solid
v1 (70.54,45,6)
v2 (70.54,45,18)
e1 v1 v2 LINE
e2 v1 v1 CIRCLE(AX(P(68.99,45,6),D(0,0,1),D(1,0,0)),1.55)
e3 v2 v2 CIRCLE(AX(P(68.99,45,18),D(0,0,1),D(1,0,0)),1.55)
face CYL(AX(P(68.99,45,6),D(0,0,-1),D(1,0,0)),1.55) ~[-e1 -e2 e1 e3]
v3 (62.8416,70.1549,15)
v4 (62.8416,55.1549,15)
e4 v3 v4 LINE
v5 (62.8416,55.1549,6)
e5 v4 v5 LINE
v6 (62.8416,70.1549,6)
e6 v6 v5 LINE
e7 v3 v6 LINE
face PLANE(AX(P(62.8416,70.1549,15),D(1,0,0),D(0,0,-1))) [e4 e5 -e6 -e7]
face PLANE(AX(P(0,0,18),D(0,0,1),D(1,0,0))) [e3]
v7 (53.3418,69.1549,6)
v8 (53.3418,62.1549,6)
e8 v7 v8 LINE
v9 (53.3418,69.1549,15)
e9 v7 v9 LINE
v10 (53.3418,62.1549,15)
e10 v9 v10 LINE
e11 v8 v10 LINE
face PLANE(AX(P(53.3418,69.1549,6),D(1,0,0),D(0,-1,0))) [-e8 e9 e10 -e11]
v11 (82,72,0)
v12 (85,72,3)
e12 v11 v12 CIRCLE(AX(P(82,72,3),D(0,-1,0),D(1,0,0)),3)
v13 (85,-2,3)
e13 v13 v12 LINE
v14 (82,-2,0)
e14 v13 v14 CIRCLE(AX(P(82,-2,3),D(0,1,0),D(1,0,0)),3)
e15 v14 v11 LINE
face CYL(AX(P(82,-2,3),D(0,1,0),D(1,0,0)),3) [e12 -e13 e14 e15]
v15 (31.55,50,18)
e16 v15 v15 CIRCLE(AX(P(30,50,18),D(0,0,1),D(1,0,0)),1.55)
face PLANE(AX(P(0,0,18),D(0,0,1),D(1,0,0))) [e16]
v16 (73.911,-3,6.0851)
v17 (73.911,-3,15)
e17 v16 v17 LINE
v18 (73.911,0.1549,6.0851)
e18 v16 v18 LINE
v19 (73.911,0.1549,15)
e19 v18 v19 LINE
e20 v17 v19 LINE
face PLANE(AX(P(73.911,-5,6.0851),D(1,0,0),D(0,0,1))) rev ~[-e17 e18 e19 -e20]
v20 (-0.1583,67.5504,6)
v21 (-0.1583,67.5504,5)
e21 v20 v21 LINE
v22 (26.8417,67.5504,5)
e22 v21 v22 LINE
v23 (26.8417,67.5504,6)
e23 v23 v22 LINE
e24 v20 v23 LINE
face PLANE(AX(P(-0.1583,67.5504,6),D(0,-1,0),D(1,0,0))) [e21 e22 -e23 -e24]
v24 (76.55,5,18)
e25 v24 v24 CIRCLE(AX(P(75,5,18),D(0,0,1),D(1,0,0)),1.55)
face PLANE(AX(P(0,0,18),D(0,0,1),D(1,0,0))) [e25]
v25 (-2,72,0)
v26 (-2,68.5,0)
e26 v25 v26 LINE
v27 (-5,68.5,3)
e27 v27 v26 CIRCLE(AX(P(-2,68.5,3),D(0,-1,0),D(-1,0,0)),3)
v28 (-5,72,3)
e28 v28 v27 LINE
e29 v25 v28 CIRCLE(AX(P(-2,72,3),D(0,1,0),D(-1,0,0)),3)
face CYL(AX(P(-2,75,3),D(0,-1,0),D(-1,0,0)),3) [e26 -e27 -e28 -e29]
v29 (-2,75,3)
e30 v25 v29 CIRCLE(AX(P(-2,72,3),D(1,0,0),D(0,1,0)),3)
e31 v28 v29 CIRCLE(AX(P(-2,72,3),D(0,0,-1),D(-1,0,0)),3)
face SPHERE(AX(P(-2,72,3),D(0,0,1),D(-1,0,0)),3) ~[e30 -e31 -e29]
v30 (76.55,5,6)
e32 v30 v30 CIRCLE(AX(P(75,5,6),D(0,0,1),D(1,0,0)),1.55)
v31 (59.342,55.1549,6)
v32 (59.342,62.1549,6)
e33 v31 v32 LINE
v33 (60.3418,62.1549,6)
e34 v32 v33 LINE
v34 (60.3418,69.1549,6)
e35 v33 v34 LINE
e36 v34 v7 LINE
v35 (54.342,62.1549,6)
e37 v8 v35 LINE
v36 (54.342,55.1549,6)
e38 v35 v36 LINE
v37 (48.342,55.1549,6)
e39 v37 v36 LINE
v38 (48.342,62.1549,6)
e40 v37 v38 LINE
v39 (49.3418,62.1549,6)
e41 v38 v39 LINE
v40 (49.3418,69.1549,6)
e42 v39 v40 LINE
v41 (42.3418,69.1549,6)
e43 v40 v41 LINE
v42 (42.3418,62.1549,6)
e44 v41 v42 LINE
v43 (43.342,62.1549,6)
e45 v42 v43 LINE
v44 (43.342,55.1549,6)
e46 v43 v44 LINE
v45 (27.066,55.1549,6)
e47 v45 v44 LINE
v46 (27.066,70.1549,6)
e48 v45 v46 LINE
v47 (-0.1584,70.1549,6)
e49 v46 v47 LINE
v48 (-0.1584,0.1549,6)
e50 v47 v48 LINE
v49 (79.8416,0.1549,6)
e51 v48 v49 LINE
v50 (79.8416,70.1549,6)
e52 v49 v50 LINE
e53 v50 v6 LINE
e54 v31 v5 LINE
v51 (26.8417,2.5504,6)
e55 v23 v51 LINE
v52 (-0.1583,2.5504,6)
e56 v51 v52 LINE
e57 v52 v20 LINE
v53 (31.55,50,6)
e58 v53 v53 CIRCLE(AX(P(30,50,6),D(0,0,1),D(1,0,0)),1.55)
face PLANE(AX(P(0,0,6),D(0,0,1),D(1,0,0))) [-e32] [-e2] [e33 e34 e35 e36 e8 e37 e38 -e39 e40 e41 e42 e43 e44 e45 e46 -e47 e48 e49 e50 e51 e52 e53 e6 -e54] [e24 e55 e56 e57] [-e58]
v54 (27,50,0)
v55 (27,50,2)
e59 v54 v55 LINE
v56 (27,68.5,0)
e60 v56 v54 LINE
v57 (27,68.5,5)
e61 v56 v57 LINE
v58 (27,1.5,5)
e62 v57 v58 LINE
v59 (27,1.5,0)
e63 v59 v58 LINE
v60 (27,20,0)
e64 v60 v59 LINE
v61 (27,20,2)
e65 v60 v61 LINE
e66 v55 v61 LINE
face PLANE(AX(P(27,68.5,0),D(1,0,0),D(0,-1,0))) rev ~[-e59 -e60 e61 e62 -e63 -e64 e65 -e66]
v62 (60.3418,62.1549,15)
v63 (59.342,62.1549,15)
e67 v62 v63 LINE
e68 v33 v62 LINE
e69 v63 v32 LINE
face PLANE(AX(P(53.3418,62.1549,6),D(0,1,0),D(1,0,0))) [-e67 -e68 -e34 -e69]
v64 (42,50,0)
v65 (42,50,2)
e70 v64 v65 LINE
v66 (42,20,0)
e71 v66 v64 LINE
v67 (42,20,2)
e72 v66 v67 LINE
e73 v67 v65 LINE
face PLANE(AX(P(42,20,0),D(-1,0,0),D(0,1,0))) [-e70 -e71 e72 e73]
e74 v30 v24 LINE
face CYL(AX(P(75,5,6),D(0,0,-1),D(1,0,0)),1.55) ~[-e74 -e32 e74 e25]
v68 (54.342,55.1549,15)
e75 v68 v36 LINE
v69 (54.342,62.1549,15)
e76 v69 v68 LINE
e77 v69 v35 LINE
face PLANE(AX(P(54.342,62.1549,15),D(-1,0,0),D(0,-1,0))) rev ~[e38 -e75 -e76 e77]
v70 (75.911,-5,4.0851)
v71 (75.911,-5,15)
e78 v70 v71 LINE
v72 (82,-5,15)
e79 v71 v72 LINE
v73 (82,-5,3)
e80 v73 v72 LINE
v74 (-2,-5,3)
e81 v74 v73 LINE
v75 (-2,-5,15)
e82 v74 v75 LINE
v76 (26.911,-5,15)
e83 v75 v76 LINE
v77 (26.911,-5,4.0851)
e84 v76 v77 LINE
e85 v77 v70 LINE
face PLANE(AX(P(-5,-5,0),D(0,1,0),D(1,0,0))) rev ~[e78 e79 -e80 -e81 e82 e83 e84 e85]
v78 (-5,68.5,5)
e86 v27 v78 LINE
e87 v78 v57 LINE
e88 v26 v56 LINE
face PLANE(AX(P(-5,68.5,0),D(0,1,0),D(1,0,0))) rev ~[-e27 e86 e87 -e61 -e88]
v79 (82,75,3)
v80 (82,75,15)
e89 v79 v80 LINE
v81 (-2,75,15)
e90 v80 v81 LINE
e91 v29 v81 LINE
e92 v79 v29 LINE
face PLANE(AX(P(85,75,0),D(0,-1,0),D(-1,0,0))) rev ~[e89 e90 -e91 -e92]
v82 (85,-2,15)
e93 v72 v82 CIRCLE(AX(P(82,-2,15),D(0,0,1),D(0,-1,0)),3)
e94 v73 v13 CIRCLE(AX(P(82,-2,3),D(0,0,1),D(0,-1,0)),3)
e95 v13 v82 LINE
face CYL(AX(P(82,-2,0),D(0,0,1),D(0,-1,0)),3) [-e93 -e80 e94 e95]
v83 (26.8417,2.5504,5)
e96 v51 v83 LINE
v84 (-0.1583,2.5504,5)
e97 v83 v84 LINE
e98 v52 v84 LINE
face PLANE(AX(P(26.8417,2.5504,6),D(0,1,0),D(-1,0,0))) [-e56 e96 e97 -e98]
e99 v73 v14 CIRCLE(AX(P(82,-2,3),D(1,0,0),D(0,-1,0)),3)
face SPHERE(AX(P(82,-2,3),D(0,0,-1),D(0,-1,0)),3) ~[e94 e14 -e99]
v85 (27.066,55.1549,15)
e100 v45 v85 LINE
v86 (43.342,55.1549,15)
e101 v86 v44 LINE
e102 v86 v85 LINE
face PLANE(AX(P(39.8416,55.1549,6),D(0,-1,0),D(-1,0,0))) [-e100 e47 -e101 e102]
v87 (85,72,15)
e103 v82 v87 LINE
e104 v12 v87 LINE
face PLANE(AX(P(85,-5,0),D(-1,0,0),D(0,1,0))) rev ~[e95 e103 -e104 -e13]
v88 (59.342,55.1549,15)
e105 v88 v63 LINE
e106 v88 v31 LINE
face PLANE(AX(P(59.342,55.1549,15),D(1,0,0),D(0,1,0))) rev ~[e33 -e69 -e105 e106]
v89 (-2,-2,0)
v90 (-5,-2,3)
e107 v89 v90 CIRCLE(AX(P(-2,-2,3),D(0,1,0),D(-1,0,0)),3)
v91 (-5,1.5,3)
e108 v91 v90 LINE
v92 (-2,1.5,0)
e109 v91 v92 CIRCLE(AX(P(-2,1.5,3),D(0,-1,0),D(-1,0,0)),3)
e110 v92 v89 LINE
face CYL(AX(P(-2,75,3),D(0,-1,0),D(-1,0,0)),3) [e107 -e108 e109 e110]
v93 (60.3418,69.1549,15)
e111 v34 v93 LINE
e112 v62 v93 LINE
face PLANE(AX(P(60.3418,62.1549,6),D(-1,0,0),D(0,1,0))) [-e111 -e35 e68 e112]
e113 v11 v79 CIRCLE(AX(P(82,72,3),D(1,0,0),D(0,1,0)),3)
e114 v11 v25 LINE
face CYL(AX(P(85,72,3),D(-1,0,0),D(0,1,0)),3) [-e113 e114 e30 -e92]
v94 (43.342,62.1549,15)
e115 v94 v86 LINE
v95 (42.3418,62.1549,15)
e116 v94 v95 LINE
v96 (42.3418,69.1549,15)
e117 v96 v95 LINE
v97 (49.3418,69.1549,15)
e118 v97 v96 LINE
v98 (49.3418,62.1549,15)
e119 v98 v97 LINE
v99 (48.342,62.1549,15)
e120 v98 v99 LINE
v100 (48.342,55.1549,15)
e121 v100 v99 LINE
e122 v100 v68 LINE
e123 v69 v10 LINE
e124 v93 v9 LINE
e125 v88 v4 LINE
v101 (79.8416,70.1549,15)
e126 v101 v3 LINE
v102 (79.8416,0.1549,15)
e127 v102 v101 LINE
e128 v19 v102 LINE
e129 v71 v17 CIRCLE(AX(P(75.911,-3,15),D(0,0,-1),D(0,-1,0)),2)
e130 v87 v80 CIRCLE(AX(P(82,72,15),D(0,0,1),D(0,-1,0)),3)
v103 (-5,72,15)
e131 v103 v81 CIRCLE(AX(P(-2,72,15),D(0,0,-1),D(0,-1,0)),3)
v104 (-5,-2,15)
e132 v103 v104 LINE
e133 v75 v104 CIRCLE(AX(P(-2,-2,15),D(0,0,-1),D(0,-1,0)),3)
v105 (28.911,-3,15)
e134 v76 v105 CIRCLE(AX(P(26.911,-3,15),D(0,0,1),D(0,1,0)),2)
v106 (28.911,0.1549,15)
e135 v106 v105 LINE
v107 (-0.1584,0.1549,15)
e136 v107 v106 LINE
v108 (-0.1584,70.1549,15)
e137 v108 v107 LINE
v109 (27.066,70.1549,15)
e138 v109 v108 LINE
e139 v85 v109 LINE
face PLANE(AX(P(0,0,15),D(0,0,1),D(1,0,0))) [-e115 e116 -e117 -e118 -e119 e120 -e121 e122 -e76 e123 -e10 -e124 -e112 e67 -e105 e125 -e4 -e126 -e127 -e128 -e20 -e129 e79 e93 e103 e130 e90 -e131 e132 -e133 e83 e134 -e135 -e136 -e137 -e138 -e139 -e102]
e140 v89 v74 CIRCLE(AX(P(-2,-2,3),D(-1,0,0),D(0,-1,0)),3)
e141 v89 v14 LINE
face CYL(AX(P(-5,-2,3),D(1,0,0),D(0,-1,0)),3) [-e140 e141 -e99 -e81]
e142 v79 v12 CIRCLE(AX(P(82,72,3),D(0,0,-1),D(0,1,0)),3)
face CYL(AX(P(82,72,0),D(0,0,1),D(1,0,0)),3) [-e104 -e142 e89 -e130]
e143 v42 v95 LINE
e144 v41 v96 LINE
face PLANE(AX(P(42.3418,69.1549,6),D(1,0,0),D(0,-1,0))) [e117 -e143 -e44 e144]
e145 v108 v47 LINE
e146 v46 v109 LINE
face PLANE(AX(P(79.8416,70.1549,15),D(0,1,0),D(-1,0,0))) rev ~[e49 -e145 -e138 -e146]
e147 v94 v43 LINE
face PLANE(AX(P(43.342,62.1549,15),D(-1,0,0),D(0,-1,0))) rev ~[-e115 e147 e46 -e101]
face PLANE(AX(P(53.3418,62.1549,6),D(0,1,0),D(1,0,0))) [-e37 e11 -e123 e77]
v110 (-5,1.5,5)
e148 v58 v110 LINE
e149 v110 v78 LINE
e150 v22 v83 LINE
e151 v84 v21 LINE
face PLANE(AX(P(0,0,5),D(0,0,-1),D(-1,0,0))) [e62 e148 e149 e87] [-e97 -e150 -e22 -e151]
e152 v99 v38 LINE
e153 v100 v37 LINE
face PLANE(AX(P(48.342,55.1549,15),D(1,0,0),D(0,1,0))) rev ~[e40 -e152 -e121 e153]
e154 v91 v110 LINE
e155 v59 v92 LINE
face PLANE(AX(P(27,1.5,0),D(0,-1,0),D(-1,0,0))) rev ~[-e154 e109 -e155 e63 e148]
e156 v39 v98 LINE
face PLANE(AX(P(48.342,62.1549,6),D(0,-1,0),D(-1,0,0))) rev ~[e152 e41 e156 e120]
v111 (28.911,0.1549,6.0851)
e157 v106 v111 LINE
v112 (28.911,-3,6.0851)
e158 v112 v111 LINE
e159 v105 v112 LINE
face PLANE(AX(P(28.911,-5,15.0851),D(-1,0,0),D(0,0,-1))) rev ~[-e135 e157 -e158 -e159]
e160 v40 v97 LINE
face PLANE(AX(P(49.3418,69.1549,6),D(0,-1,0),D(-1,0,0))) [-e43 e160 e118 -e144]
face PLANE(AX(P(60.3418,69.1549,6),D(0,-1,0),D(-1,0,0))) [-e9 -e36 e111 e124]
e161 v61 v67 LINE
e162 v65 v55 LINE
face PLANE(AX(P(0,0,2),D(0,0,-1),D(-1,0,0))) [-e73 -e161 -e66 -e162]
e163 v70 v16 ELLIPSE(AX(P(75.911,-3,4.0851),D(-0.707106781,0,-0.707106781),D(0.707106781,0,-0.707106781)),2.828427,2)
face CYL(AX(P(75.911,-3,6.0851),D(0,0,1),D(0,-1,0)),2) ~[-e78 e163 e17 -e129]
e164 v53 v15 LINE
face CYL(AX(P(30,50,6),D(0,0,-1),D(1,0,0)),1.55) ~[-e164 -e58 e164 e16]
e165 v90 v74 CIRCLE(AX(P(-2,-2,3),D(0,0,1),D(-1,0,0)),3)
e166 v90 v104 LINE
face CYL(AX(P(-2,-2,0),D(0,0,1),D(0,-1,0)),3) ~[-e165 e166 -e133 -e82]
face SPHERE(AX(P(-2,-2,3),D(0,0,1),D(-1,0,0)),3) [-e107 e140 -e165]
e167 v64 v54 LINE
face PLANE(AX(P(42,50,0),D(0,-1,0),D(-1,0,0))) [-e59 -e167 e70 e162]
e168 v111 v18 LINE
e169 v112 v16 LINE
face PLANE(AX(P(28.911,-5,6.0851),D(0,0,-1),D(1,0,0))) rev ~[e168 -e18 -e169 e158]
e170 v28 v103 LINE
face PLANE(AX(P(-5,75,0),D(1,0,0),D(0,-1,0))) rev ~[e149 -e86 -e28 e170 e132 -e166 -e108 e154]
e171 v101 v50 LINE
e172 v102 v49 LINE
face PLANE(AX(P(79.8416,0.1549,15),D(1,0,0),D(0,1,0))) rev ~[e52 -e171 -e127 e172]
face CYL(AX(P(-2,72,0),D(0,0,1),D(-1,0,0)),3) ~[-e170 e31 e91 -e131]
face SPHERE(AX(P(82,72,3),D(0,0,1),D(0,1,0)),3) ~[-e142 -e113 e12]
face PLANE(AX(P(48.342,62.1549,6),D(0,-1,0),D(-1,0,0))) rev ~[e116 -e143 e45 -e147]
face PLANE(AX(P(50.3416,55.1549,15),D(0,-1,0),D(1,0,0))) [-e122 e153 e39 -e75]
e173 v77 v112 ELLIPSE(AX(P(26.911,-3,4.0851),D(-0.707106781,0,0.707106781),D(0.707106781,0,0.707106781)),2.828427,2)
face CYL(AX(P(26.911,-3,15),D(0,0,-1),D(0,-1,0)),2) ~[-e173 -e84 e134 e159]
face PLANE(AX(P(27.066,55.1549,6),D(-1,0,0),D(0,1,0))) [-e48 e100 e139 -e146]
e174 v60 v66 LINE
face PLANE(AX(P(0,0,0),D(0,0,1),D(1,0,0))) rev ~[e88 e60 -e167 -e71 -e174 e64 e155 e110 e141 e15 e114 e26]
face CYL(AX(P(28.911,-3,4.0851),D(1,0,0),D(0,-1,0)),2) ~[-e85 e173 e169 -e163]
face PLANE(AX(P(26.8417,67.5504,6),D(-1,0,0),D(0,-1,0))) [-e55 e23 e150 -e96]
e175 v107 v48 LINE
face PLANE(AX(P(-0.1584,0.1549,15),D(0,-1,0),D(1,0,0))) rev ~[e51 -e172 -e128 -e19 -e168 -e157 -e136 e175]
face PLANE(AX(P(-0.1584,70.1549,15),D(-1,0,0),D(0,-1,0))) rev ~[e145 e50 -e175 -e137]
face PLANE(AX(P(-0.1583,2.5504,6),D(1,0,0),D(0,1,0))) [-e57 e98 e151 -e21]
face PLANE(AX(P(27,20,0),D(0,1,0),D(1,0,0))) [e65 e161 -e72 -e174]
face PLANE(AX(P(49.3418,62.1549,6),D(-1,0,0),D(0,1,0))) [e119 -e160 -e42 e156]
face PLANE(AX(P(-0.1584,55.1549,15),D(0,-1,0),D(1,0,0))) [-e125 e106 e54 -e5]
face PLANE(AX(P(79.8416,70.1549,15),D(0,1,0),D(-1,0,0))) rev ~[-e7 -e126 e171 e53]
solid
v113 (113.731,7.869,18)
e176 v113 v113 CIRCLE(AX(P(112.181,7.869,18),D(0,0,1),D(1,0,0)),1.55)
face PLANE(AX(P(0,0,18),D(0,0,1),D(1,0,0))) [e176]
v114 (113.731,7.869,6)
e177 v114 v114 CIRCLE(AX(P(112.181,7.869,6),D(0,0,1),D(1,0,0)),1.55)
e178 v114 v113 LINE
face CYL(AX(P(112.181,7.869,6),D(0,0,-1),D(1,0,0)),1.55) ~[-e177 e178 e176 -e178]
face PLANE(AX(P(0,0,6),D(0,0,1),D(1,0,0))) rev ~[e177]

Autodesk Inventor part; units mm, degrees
ref_plane "YZ Plane" through (0, 0, 0) normal (1, 0, 0) x (0, 1, 0)
ref_plane "XZ Plane" through (0, 0, 0) normal (0, 1, 0) x (-1, 0, 0)
ref_plane "XY Plane" through (0, 0, 0) normal (0, 0, 1) x (1, 0, 0)
sketch "Sketch1" plane through (0, 0, 0) normal (0, 0, 1) x (1, 0, 0)
  line L0 (-5, -5) -> (85, -5)
  line L1 (85, -5) -> (85, 75)
  line L2 (85, 75) -> (-5, 75)
  line L3 (-5, 75) -> (-5, -5)
  point P0 (0, 0)
  dimension "d0" = 90
  dimension "d1" = 80
extrude "Extrusion1" add sketch "Sketch1" along normal blind 15
sketch "Sketch3" plane through (0, 0, 15) normal (0, 0, 1) x (1, 0, 0)
  line L0 (-0.1584, 0.1549) -> (79.8416, 0.1549)
  line L1 (79.8416, 0.1549) -> (79.8416, 70.1549)
  line L2 (79.8416, 70.1549) -> (-0.1584, 70.1549)
  line L3 (-0.1584, 70.1549) -> (-0.1584, 0.1549)
  point P0 (0, 0)
  dimension "d4" = 80
  dimension "d5" = 70
extrude "Extrusion2" cut sketch "Sketch3" against normal blind 9
sketch "Sketch4" plane through (0, 0, 6) normal (0, 0, 1) x (1, 0, 0)
  circle A0 centre (75, 5) radius 1.55
  circle A1 centre (30, 50) radius 1.55
  circle A2 centre (68.99, 45) radius 1.55
  circle A3 centre (112.181, 7.869) radius 1.55
  point P0 (0, 0)
  dimension "d8" = 3.1
  dimension "d9" = 3.1
  dimension "d10" = 3.1
  dimension "d51" = 3.1
extrude "Extrusion3" add sketch "Sketch4" along normal blind 12
sketch "Sketch9" plane through (0, 0, 6) normal (0, 0, 1) x (1, 0, 0)
  line L0 (-0.1583, 67.5504) -> (26.8417, 67.5504)
  line L1 (26.8417, 67.5504) -> (26.8417, 2.5504)
  line L2 (26.8417, 2.5504) -> (-0.1583, 2.5504)
  line L3 (-0.1583, 2.5504) -> (-0.1583, 67.5504)
  point P0 (0, 0)
  dimension "d13" = 27
  dimension "d14" = 65
extrude "Extrusion4" cut sketch "Sketch9" against normal blind 4
sketch "Sketch10" plane through (0, 0, 2) normal (0, 0, 1) x (1, 0, 0)
  line L0 (7, 64.5504) -> (20, 64.5504)
  line L1 (20, 64.5504) -> (20, 54.4354)
  line L2 (20, 54.4354) -> (7, 54.4354)
  line L3 (7, 54.4354) -> (7, 64.5504)
  line L4 (-0.1583, 67.5504) -> (26.8417, 67.5504) projected
  point P0 (0, 0)
  dimension "d54" = 3
extrude "Extrusion5" cut sketch "Sketch10" against normal blind 3
sketch "Sketch12" plane through (-0.1584, 70.1549, 15) normal (0, -1, 0) x (1, 0, 0)
  line L0 (0, 0) -> (80, 0) projected
  line L1 (61.5, 0) -> (52.5, 0)
  line L2 (52.5, 0) -> (52.5, -9)
  line L3 (52.5, -9) -> (61.5, -9)
  line L4 (61.5, -9) -> (61.5, 0)
  line L5 (50.5, 0) -> (41.5, 0)
  line L6 (41.5, 0) -> (41.5, -9)
  line L7 (41.5, -9) -> (50.5, -9)
  line L8 (50.5, -9) -> (50.5, 0)
  point P0 (0.1584, -15)
  dimension "d44" = 9
extrude "Extrusion7" add sketch "Sketch12" along normal blind 15
thread "Thread1" size "M3.5x0.6" class "6g" standard "ANSI Metric M Profile" full length
thread "Thread2" size "M3.5x0.6" class "6g" standard "ANSI Metric M Profile" full length
thread "Thread3" size "M3.5x0.6" class "6g" standard "ANSI Metric M Profile" full length
sketch "Sketch15" plane through (0, 0, 15) normal (0, 0, 1) x (1, 0, 0)
  line L0 (50.3416, 55.1549) -> (41.3416, 55.1549) projected
  line L1 (43.342, 55.1549) -> (48.342, 55.1549)
  line L2 (48.342, 55.1549) -> (48.342, 62.1549)
  line L3 (48.342, 62.1549) -> (43.342, 62.1549)
  line L4 (43.342, 62.1549) -> (43.342, 55.1549)
  point P0 (0, 0)
  dimension "d31" = 5
  dimension "d32" = 7
extrude "Extrusion9" cut sketch "Sketch15" against normal blind 9
sketch "Sketch16" plane through (0, 0, 15) normal (0, 0, 1) x (1, 0, 0)
  line L0 (61.3416, 55.1549) -> (52.3416, 55.1549) projected
  line L1 (54.342, 55.1549) -> (59.342, 55.1549)
  line L2 (59.342, 55.1549) -> (59.342, 62.1549)
  line L3 (59.342, 62.1549) -> (54.342, 62.1549)
  line L4 (54.342, 62.1549) -> (54.342, 55.1549)
  point P0 (0, 0)
  dimension "d35" = 5
  dimension "d36" = 7
extrude "Extrusion10" cut sketch "Sketch16" against normal blind 9
sketch "Sketch17" plane through (0, 0, 6) normal (0, 0, 1) x (1, 0, 0)
  line L0 (48.342, 55.1549) -> (48.342, 62.1549) projected
  line L1 (48.342, 62.1549) -> (43.342, 62.1549) projected
  line L2 (43.342, 62.1549) -> (43.342, 55.1549) projected
  line L3 (43.342, 55.1549) -> (41.3416, 55.1549) projected
  line L4 (41.3416, 55.1549) -> (41.3416, 70.1549) projected
  line L5 (41.3416, 70.1549) -> (-0.1584, 70.1549) projected
  line L6 (-0.1584, 70.1549) -> (-0.1584, 0.1549) projected
  line L7 (-0.1584, 0.1549) -> (79.8416, 0.1549) projected
  line L8 (79.8416, 0.1549) -> (79.8416, 70.1549) projected
  line L9 (79.8416, 70.1549) -> (61.3416, 70.1549) projected
  line L10 (61.3416, 70.1549) -> (61.3416, 55.1549) projected
  line L11 (61.3416, 55.1549) -> (59.342, 55.1549) projected
  line L12 (59.342, 55.1549) -> (59.342, 62.1549) projected
  line L13 (59.342, 62.1549) -> (54.342, 62.1549) projected
  line L14 (54.342, 62.1549) -> (54.342, 55.1549) projected
  line L15 (54.342, 55.1549) -> (52.3416, 55.1549) projected
  line L16 (52.3416, 55.1549) -> (52.3416, 70.1549) projected
  line L17 (52.3416, 70.1549) -> (50.3416, 70.1549) projected
  line L18 (50.3416, 70.1549) -> (50.3416, 55.1549) projected
  line L19 (50.3416, 55.1549) -> (48.342, 55.1549) projected
  line L20 (-0.1583, 67.5504) -> (-0.1583, 2.5504) projected
  line L21 (-0.1583, 2.5504) -> (26.8417, 2.5504) projected
  line L22 (26.8417, 2.5504) -> (26.8417, 67.5504) projected
  line L23 (26.8417, 67.5504) -> (-0.1583, 67.5504) projected
  circle A0 centre (30, 50) radius 1.55 projected
  circle A1 centre (75, 5) radius 1.55 projected
  circle A2 centre (68.99, 45) radius 1.55 projected
  line L24 (85, -5) -> (-5, -5) projected
  line L25 (-5, -5) -> (-5, 75) projected
  line L26 (-5, 75) -> (85, 75) projected
  line L27 (85, 75) -> (85, -5) projected
  line L28 (48.342, 55.1549) -> (48.342, 62.1549) projected
  line L29 (48.342, 62.1549) -> (43.342, 62.1549) projected
  line L30 (43.342, 62.1549) -> (43.342, 55.1549) projected
  line L31 (43.342, 55.1549) -> (41.3416, 55.1549) projected
  line L32 (41.3416, 55.1549) -> (41.3416, 70.1549) projected
  line L33 (41.3416, 70.1549) -> (-0.1584, 70.1549) projected
  line L34 (-0.1584, 70.1549) -> (-0.1584, 0.1549) projected
  line L35 (-0.1584, 0.1549) -> (79.8416, 0.1549) projected
  line L36 (79.8416, 0.1549) -> (79.8416, 70.1549) projected
  line L37 (79.8416, 70.1549) -> (61.3416, 70.1549) projected
  line L38 (61.3416, 70.1549) -> (61.3416, 55.1549) projected
  line L39 (61.3416, 55.1549) -> (59.342, 55.1549) projected
  line L40 (59.342, 55.1549) -> (59.342, 62.1549) projected
  line L41 (59.342, 62.1549) -> (54.342, 62.1549) projected
  line L42 (54.342, 62.1549) -> (54.342, 55.1549) projected
  line L43 (54.342, 55.1549) -> (52.3416, 55.1549) projected
  line L44 (52.3416, 55.1549) -> (52.3416, 70.1549) projected
  line L45 (52.3416, 70.1549) -> (50.3416, 70.1549) projected
  line L46 (50.3416, 70.1549) -> (50.3416, 55.1549) projected
  line L47 (50.3416, 55.1549) -> (48.342, 55.1549) projected
  circle A3 centre (30, 50) radius 1.55 projected
  circle A4 centre (75, 5) radius 1.55 projected
  circle A5 centre (68.99, 45) radius 1.55 projected
  line L48 (85, -5) -> (-5, -5) projected
  line L49 (-5, -5) -> (-5, 75) projected
  line L50 (-5, 75) -> (85, 75) projected
  line L51 (85, 75) -> (85, -5) projected
  line L52 (42.3418, 62.1549) -> (49.3418, 62.1549)
  line L53 (49.3418, 62.1549) -> (49.3418, 69.1549)
  line L54 (49.3418, 69.1549) -> (42.3418, 69.1549)
  line L55 (42.3418, 69.1549) -> (42.3418, 62.1549)
  line L56 (53.3418, 62.1549) -> (60.3418, 62.1549)
  line L57 (60.3418, 62.1549) -> (60.3418, 69.1549)
  line L58 (60.3418, 69.1549) -> (53.3418, 69.1549)
  line L59 (53.3418, 69.1549) -> (53.3418, 62.1549)
  line L60 (-0.1583, 67.5504) -> (-0.1583, 2.5504) projected
  line L61 (-0.1583, 2.5504) -> (26.8417, 2.5504) projected
  line L62 (26.8417, 2.5504) -> (26.8417, 67.5504) projected
  line L63 (26.8417, 67.5504) -> (-0.1583, 67.5504) projected
  circle A6 centre (112.181, 7.869) radius 1.55 projected
  circle A7 centre (112.181, 7.869) radius 1.55 projected
  point P0 (0, 0)
  dimension "d39" = 7
  dimension "d40" = 7
  dimension "d41" = 7
extrude "Extrusion11" cut sketch "Sketch17" along normal blind 9 contours L1 L52 L55 L54 L53 | L56 L59 L58 L57 L13
sketch "Sketch18" plane through (50.3416, 70.1549, 15) normal (0, -1, 0) x (1, 0, 0)
  line L0 (0, 0) -> (2, 0)
  line L1 (2, 0) -> (2, -9)
  line L2 (2, -9) -> (0, -9)
  line L3 (0, -9) -> (0, 0)
  point P0 (-50.3416, -15)
extrude "Extrusion12" add sketch "Sketch18" along normal blind 15
sketch "Sketch19" plane through (-0.1584, 70.1549, 6) normal (0, -1, 0) x (1, 0, 0)
  line L0 (41.5, 0) -> (41.5, 9) projected
  line L1 (0, 0) -> (41.5, 0) projected
  line L2 (41.5, 9) -> (40, 9)
  line L3 (40, 9) -> (40, 0)
  line L4 (40, 0) -> (41.5, 0)
  line L5 (41.5, 0) -> (41.5, 9)
  line L6 (61.5, 0) -> (80, 0) projected
  line L7 (61.5, 9) -> (63, 9)
  line L8 (63, 9) -> (63, 0)
  line L9 (63, 0) -> (61.5, 0)
  line L10 (61.5, 0) -> (61.5, 9)
  point P0 (0.1584, -6)
  dimension "d47" = 1.5
  dimension "d48" = 1.5
extrude "Extrusion13" add sketch "Sketch19" along normal blind 15
sketch "Sketch20" plane through (0, 0, 6) normal (0, 0, 1) x (1, 0, 0)
  point P0 (0, 0)
sketch "Sketch21" plane through (39.8416, 70.1549, 6) normal (-1, 0, 0) x (0, 0, 1)
  point P0 (-6, -70.1549)
sketch "Sketch22" plane through (0, 0, 6) normal (0, 0, 1) x (1, 0, 0)
  line L0 (43.342, 55.1549) -> (39.8416, 55.1549) projected
  line L1 (-0.1584, 70.1549) -> (39.8416, 70.1549) projected
  line L2 (39.8416, 55.1549) -> (27.066, 55.1549)
  line L3 (27.066, 55.1549) -> (27.066, 70.1549)
  line L4 (27.066, 70.1549) -> (39.8416, 70.1549)
  line L5 (39.8416, 70.1549) -> (39.8416, 55.1549)
  point P0 (0, 0)
extrude "Extrusion14" add sketch "Sketch22" along normal blind 9
fillet "Fillet1" radius 3 1 edges at (85, -5, 7.5)
fillet "Fillet2" radius 3 8 edges at (85, 75, 7.5) (-5, 75, 7.5) (-5, -5, 7.5) (-5, 35, 0) (40, 75, 0) (84.1213, -4.1213, 0) (38.5, -5, 0) (85, 36.5, 0)
sketch "Sketch23" plane through (-2, -5, 3) normal (0, -1, 0) x (1, 0, 0)
  line L0 (75.911, 12.0851) -> (30.911, 12.0851)
  line L1 (30.911, 12.0851) -> (30.911, 3.0851)
  line L2 (30.911, 3.0851) -> (75.911, 3.0851)
  line L3 (75.911, 3.0851) -> (75.911, 12.0851)
  point P0 (2, -3)
  dimension "d57" = 45
  dimension "d58" = 9
extrude "Extrusion15" cut sketch "Sketch23" against normal blind 6
fillet "Fillet3" radius 2 3 edges at (51.411, -5, 6.0851) (28.911, -5, 10.5426) (73.911, -5, 10.5426)
sketch "Sketch24" plane through (0, 0, 0) normal (0, 0, -1) x (-1, 0, 0)
  line L0 (-27, 1.5) -> (5, 1.5)
  line L1 (5, 1.5) -> (5, 68.5)
  line L2 (5, 68.5) -> (-27, 68.5)
  line L3 (-27, 68.5) -> (-27, 1.5)
  point P0 (0, 0)
  dimension "d62" = 32
  dimension "d63" = 67
extrude "Extrusion16" cut sketch "Sketch24" against normal blind 5
sketch "Sketch25" plane through (0, 0, 0) normal (0, 0, -1) x (-1, 0, 0)
  line L0 (-27, 20) -> (-42, 20)
  line L1 (-42, 20) -> (-42, 50)
  line L2 (-42, 50) -> (-27, 50)
  line L3 (-27, 50) -> (-27, 20)
  point P0 (0, 0)
  dimension "d66" = 15
  dimension "d67" = 30
extrude "Extrusion17" cut sketch "Sketch25" against normal blind 2
properties part number "case_bottom_new"
